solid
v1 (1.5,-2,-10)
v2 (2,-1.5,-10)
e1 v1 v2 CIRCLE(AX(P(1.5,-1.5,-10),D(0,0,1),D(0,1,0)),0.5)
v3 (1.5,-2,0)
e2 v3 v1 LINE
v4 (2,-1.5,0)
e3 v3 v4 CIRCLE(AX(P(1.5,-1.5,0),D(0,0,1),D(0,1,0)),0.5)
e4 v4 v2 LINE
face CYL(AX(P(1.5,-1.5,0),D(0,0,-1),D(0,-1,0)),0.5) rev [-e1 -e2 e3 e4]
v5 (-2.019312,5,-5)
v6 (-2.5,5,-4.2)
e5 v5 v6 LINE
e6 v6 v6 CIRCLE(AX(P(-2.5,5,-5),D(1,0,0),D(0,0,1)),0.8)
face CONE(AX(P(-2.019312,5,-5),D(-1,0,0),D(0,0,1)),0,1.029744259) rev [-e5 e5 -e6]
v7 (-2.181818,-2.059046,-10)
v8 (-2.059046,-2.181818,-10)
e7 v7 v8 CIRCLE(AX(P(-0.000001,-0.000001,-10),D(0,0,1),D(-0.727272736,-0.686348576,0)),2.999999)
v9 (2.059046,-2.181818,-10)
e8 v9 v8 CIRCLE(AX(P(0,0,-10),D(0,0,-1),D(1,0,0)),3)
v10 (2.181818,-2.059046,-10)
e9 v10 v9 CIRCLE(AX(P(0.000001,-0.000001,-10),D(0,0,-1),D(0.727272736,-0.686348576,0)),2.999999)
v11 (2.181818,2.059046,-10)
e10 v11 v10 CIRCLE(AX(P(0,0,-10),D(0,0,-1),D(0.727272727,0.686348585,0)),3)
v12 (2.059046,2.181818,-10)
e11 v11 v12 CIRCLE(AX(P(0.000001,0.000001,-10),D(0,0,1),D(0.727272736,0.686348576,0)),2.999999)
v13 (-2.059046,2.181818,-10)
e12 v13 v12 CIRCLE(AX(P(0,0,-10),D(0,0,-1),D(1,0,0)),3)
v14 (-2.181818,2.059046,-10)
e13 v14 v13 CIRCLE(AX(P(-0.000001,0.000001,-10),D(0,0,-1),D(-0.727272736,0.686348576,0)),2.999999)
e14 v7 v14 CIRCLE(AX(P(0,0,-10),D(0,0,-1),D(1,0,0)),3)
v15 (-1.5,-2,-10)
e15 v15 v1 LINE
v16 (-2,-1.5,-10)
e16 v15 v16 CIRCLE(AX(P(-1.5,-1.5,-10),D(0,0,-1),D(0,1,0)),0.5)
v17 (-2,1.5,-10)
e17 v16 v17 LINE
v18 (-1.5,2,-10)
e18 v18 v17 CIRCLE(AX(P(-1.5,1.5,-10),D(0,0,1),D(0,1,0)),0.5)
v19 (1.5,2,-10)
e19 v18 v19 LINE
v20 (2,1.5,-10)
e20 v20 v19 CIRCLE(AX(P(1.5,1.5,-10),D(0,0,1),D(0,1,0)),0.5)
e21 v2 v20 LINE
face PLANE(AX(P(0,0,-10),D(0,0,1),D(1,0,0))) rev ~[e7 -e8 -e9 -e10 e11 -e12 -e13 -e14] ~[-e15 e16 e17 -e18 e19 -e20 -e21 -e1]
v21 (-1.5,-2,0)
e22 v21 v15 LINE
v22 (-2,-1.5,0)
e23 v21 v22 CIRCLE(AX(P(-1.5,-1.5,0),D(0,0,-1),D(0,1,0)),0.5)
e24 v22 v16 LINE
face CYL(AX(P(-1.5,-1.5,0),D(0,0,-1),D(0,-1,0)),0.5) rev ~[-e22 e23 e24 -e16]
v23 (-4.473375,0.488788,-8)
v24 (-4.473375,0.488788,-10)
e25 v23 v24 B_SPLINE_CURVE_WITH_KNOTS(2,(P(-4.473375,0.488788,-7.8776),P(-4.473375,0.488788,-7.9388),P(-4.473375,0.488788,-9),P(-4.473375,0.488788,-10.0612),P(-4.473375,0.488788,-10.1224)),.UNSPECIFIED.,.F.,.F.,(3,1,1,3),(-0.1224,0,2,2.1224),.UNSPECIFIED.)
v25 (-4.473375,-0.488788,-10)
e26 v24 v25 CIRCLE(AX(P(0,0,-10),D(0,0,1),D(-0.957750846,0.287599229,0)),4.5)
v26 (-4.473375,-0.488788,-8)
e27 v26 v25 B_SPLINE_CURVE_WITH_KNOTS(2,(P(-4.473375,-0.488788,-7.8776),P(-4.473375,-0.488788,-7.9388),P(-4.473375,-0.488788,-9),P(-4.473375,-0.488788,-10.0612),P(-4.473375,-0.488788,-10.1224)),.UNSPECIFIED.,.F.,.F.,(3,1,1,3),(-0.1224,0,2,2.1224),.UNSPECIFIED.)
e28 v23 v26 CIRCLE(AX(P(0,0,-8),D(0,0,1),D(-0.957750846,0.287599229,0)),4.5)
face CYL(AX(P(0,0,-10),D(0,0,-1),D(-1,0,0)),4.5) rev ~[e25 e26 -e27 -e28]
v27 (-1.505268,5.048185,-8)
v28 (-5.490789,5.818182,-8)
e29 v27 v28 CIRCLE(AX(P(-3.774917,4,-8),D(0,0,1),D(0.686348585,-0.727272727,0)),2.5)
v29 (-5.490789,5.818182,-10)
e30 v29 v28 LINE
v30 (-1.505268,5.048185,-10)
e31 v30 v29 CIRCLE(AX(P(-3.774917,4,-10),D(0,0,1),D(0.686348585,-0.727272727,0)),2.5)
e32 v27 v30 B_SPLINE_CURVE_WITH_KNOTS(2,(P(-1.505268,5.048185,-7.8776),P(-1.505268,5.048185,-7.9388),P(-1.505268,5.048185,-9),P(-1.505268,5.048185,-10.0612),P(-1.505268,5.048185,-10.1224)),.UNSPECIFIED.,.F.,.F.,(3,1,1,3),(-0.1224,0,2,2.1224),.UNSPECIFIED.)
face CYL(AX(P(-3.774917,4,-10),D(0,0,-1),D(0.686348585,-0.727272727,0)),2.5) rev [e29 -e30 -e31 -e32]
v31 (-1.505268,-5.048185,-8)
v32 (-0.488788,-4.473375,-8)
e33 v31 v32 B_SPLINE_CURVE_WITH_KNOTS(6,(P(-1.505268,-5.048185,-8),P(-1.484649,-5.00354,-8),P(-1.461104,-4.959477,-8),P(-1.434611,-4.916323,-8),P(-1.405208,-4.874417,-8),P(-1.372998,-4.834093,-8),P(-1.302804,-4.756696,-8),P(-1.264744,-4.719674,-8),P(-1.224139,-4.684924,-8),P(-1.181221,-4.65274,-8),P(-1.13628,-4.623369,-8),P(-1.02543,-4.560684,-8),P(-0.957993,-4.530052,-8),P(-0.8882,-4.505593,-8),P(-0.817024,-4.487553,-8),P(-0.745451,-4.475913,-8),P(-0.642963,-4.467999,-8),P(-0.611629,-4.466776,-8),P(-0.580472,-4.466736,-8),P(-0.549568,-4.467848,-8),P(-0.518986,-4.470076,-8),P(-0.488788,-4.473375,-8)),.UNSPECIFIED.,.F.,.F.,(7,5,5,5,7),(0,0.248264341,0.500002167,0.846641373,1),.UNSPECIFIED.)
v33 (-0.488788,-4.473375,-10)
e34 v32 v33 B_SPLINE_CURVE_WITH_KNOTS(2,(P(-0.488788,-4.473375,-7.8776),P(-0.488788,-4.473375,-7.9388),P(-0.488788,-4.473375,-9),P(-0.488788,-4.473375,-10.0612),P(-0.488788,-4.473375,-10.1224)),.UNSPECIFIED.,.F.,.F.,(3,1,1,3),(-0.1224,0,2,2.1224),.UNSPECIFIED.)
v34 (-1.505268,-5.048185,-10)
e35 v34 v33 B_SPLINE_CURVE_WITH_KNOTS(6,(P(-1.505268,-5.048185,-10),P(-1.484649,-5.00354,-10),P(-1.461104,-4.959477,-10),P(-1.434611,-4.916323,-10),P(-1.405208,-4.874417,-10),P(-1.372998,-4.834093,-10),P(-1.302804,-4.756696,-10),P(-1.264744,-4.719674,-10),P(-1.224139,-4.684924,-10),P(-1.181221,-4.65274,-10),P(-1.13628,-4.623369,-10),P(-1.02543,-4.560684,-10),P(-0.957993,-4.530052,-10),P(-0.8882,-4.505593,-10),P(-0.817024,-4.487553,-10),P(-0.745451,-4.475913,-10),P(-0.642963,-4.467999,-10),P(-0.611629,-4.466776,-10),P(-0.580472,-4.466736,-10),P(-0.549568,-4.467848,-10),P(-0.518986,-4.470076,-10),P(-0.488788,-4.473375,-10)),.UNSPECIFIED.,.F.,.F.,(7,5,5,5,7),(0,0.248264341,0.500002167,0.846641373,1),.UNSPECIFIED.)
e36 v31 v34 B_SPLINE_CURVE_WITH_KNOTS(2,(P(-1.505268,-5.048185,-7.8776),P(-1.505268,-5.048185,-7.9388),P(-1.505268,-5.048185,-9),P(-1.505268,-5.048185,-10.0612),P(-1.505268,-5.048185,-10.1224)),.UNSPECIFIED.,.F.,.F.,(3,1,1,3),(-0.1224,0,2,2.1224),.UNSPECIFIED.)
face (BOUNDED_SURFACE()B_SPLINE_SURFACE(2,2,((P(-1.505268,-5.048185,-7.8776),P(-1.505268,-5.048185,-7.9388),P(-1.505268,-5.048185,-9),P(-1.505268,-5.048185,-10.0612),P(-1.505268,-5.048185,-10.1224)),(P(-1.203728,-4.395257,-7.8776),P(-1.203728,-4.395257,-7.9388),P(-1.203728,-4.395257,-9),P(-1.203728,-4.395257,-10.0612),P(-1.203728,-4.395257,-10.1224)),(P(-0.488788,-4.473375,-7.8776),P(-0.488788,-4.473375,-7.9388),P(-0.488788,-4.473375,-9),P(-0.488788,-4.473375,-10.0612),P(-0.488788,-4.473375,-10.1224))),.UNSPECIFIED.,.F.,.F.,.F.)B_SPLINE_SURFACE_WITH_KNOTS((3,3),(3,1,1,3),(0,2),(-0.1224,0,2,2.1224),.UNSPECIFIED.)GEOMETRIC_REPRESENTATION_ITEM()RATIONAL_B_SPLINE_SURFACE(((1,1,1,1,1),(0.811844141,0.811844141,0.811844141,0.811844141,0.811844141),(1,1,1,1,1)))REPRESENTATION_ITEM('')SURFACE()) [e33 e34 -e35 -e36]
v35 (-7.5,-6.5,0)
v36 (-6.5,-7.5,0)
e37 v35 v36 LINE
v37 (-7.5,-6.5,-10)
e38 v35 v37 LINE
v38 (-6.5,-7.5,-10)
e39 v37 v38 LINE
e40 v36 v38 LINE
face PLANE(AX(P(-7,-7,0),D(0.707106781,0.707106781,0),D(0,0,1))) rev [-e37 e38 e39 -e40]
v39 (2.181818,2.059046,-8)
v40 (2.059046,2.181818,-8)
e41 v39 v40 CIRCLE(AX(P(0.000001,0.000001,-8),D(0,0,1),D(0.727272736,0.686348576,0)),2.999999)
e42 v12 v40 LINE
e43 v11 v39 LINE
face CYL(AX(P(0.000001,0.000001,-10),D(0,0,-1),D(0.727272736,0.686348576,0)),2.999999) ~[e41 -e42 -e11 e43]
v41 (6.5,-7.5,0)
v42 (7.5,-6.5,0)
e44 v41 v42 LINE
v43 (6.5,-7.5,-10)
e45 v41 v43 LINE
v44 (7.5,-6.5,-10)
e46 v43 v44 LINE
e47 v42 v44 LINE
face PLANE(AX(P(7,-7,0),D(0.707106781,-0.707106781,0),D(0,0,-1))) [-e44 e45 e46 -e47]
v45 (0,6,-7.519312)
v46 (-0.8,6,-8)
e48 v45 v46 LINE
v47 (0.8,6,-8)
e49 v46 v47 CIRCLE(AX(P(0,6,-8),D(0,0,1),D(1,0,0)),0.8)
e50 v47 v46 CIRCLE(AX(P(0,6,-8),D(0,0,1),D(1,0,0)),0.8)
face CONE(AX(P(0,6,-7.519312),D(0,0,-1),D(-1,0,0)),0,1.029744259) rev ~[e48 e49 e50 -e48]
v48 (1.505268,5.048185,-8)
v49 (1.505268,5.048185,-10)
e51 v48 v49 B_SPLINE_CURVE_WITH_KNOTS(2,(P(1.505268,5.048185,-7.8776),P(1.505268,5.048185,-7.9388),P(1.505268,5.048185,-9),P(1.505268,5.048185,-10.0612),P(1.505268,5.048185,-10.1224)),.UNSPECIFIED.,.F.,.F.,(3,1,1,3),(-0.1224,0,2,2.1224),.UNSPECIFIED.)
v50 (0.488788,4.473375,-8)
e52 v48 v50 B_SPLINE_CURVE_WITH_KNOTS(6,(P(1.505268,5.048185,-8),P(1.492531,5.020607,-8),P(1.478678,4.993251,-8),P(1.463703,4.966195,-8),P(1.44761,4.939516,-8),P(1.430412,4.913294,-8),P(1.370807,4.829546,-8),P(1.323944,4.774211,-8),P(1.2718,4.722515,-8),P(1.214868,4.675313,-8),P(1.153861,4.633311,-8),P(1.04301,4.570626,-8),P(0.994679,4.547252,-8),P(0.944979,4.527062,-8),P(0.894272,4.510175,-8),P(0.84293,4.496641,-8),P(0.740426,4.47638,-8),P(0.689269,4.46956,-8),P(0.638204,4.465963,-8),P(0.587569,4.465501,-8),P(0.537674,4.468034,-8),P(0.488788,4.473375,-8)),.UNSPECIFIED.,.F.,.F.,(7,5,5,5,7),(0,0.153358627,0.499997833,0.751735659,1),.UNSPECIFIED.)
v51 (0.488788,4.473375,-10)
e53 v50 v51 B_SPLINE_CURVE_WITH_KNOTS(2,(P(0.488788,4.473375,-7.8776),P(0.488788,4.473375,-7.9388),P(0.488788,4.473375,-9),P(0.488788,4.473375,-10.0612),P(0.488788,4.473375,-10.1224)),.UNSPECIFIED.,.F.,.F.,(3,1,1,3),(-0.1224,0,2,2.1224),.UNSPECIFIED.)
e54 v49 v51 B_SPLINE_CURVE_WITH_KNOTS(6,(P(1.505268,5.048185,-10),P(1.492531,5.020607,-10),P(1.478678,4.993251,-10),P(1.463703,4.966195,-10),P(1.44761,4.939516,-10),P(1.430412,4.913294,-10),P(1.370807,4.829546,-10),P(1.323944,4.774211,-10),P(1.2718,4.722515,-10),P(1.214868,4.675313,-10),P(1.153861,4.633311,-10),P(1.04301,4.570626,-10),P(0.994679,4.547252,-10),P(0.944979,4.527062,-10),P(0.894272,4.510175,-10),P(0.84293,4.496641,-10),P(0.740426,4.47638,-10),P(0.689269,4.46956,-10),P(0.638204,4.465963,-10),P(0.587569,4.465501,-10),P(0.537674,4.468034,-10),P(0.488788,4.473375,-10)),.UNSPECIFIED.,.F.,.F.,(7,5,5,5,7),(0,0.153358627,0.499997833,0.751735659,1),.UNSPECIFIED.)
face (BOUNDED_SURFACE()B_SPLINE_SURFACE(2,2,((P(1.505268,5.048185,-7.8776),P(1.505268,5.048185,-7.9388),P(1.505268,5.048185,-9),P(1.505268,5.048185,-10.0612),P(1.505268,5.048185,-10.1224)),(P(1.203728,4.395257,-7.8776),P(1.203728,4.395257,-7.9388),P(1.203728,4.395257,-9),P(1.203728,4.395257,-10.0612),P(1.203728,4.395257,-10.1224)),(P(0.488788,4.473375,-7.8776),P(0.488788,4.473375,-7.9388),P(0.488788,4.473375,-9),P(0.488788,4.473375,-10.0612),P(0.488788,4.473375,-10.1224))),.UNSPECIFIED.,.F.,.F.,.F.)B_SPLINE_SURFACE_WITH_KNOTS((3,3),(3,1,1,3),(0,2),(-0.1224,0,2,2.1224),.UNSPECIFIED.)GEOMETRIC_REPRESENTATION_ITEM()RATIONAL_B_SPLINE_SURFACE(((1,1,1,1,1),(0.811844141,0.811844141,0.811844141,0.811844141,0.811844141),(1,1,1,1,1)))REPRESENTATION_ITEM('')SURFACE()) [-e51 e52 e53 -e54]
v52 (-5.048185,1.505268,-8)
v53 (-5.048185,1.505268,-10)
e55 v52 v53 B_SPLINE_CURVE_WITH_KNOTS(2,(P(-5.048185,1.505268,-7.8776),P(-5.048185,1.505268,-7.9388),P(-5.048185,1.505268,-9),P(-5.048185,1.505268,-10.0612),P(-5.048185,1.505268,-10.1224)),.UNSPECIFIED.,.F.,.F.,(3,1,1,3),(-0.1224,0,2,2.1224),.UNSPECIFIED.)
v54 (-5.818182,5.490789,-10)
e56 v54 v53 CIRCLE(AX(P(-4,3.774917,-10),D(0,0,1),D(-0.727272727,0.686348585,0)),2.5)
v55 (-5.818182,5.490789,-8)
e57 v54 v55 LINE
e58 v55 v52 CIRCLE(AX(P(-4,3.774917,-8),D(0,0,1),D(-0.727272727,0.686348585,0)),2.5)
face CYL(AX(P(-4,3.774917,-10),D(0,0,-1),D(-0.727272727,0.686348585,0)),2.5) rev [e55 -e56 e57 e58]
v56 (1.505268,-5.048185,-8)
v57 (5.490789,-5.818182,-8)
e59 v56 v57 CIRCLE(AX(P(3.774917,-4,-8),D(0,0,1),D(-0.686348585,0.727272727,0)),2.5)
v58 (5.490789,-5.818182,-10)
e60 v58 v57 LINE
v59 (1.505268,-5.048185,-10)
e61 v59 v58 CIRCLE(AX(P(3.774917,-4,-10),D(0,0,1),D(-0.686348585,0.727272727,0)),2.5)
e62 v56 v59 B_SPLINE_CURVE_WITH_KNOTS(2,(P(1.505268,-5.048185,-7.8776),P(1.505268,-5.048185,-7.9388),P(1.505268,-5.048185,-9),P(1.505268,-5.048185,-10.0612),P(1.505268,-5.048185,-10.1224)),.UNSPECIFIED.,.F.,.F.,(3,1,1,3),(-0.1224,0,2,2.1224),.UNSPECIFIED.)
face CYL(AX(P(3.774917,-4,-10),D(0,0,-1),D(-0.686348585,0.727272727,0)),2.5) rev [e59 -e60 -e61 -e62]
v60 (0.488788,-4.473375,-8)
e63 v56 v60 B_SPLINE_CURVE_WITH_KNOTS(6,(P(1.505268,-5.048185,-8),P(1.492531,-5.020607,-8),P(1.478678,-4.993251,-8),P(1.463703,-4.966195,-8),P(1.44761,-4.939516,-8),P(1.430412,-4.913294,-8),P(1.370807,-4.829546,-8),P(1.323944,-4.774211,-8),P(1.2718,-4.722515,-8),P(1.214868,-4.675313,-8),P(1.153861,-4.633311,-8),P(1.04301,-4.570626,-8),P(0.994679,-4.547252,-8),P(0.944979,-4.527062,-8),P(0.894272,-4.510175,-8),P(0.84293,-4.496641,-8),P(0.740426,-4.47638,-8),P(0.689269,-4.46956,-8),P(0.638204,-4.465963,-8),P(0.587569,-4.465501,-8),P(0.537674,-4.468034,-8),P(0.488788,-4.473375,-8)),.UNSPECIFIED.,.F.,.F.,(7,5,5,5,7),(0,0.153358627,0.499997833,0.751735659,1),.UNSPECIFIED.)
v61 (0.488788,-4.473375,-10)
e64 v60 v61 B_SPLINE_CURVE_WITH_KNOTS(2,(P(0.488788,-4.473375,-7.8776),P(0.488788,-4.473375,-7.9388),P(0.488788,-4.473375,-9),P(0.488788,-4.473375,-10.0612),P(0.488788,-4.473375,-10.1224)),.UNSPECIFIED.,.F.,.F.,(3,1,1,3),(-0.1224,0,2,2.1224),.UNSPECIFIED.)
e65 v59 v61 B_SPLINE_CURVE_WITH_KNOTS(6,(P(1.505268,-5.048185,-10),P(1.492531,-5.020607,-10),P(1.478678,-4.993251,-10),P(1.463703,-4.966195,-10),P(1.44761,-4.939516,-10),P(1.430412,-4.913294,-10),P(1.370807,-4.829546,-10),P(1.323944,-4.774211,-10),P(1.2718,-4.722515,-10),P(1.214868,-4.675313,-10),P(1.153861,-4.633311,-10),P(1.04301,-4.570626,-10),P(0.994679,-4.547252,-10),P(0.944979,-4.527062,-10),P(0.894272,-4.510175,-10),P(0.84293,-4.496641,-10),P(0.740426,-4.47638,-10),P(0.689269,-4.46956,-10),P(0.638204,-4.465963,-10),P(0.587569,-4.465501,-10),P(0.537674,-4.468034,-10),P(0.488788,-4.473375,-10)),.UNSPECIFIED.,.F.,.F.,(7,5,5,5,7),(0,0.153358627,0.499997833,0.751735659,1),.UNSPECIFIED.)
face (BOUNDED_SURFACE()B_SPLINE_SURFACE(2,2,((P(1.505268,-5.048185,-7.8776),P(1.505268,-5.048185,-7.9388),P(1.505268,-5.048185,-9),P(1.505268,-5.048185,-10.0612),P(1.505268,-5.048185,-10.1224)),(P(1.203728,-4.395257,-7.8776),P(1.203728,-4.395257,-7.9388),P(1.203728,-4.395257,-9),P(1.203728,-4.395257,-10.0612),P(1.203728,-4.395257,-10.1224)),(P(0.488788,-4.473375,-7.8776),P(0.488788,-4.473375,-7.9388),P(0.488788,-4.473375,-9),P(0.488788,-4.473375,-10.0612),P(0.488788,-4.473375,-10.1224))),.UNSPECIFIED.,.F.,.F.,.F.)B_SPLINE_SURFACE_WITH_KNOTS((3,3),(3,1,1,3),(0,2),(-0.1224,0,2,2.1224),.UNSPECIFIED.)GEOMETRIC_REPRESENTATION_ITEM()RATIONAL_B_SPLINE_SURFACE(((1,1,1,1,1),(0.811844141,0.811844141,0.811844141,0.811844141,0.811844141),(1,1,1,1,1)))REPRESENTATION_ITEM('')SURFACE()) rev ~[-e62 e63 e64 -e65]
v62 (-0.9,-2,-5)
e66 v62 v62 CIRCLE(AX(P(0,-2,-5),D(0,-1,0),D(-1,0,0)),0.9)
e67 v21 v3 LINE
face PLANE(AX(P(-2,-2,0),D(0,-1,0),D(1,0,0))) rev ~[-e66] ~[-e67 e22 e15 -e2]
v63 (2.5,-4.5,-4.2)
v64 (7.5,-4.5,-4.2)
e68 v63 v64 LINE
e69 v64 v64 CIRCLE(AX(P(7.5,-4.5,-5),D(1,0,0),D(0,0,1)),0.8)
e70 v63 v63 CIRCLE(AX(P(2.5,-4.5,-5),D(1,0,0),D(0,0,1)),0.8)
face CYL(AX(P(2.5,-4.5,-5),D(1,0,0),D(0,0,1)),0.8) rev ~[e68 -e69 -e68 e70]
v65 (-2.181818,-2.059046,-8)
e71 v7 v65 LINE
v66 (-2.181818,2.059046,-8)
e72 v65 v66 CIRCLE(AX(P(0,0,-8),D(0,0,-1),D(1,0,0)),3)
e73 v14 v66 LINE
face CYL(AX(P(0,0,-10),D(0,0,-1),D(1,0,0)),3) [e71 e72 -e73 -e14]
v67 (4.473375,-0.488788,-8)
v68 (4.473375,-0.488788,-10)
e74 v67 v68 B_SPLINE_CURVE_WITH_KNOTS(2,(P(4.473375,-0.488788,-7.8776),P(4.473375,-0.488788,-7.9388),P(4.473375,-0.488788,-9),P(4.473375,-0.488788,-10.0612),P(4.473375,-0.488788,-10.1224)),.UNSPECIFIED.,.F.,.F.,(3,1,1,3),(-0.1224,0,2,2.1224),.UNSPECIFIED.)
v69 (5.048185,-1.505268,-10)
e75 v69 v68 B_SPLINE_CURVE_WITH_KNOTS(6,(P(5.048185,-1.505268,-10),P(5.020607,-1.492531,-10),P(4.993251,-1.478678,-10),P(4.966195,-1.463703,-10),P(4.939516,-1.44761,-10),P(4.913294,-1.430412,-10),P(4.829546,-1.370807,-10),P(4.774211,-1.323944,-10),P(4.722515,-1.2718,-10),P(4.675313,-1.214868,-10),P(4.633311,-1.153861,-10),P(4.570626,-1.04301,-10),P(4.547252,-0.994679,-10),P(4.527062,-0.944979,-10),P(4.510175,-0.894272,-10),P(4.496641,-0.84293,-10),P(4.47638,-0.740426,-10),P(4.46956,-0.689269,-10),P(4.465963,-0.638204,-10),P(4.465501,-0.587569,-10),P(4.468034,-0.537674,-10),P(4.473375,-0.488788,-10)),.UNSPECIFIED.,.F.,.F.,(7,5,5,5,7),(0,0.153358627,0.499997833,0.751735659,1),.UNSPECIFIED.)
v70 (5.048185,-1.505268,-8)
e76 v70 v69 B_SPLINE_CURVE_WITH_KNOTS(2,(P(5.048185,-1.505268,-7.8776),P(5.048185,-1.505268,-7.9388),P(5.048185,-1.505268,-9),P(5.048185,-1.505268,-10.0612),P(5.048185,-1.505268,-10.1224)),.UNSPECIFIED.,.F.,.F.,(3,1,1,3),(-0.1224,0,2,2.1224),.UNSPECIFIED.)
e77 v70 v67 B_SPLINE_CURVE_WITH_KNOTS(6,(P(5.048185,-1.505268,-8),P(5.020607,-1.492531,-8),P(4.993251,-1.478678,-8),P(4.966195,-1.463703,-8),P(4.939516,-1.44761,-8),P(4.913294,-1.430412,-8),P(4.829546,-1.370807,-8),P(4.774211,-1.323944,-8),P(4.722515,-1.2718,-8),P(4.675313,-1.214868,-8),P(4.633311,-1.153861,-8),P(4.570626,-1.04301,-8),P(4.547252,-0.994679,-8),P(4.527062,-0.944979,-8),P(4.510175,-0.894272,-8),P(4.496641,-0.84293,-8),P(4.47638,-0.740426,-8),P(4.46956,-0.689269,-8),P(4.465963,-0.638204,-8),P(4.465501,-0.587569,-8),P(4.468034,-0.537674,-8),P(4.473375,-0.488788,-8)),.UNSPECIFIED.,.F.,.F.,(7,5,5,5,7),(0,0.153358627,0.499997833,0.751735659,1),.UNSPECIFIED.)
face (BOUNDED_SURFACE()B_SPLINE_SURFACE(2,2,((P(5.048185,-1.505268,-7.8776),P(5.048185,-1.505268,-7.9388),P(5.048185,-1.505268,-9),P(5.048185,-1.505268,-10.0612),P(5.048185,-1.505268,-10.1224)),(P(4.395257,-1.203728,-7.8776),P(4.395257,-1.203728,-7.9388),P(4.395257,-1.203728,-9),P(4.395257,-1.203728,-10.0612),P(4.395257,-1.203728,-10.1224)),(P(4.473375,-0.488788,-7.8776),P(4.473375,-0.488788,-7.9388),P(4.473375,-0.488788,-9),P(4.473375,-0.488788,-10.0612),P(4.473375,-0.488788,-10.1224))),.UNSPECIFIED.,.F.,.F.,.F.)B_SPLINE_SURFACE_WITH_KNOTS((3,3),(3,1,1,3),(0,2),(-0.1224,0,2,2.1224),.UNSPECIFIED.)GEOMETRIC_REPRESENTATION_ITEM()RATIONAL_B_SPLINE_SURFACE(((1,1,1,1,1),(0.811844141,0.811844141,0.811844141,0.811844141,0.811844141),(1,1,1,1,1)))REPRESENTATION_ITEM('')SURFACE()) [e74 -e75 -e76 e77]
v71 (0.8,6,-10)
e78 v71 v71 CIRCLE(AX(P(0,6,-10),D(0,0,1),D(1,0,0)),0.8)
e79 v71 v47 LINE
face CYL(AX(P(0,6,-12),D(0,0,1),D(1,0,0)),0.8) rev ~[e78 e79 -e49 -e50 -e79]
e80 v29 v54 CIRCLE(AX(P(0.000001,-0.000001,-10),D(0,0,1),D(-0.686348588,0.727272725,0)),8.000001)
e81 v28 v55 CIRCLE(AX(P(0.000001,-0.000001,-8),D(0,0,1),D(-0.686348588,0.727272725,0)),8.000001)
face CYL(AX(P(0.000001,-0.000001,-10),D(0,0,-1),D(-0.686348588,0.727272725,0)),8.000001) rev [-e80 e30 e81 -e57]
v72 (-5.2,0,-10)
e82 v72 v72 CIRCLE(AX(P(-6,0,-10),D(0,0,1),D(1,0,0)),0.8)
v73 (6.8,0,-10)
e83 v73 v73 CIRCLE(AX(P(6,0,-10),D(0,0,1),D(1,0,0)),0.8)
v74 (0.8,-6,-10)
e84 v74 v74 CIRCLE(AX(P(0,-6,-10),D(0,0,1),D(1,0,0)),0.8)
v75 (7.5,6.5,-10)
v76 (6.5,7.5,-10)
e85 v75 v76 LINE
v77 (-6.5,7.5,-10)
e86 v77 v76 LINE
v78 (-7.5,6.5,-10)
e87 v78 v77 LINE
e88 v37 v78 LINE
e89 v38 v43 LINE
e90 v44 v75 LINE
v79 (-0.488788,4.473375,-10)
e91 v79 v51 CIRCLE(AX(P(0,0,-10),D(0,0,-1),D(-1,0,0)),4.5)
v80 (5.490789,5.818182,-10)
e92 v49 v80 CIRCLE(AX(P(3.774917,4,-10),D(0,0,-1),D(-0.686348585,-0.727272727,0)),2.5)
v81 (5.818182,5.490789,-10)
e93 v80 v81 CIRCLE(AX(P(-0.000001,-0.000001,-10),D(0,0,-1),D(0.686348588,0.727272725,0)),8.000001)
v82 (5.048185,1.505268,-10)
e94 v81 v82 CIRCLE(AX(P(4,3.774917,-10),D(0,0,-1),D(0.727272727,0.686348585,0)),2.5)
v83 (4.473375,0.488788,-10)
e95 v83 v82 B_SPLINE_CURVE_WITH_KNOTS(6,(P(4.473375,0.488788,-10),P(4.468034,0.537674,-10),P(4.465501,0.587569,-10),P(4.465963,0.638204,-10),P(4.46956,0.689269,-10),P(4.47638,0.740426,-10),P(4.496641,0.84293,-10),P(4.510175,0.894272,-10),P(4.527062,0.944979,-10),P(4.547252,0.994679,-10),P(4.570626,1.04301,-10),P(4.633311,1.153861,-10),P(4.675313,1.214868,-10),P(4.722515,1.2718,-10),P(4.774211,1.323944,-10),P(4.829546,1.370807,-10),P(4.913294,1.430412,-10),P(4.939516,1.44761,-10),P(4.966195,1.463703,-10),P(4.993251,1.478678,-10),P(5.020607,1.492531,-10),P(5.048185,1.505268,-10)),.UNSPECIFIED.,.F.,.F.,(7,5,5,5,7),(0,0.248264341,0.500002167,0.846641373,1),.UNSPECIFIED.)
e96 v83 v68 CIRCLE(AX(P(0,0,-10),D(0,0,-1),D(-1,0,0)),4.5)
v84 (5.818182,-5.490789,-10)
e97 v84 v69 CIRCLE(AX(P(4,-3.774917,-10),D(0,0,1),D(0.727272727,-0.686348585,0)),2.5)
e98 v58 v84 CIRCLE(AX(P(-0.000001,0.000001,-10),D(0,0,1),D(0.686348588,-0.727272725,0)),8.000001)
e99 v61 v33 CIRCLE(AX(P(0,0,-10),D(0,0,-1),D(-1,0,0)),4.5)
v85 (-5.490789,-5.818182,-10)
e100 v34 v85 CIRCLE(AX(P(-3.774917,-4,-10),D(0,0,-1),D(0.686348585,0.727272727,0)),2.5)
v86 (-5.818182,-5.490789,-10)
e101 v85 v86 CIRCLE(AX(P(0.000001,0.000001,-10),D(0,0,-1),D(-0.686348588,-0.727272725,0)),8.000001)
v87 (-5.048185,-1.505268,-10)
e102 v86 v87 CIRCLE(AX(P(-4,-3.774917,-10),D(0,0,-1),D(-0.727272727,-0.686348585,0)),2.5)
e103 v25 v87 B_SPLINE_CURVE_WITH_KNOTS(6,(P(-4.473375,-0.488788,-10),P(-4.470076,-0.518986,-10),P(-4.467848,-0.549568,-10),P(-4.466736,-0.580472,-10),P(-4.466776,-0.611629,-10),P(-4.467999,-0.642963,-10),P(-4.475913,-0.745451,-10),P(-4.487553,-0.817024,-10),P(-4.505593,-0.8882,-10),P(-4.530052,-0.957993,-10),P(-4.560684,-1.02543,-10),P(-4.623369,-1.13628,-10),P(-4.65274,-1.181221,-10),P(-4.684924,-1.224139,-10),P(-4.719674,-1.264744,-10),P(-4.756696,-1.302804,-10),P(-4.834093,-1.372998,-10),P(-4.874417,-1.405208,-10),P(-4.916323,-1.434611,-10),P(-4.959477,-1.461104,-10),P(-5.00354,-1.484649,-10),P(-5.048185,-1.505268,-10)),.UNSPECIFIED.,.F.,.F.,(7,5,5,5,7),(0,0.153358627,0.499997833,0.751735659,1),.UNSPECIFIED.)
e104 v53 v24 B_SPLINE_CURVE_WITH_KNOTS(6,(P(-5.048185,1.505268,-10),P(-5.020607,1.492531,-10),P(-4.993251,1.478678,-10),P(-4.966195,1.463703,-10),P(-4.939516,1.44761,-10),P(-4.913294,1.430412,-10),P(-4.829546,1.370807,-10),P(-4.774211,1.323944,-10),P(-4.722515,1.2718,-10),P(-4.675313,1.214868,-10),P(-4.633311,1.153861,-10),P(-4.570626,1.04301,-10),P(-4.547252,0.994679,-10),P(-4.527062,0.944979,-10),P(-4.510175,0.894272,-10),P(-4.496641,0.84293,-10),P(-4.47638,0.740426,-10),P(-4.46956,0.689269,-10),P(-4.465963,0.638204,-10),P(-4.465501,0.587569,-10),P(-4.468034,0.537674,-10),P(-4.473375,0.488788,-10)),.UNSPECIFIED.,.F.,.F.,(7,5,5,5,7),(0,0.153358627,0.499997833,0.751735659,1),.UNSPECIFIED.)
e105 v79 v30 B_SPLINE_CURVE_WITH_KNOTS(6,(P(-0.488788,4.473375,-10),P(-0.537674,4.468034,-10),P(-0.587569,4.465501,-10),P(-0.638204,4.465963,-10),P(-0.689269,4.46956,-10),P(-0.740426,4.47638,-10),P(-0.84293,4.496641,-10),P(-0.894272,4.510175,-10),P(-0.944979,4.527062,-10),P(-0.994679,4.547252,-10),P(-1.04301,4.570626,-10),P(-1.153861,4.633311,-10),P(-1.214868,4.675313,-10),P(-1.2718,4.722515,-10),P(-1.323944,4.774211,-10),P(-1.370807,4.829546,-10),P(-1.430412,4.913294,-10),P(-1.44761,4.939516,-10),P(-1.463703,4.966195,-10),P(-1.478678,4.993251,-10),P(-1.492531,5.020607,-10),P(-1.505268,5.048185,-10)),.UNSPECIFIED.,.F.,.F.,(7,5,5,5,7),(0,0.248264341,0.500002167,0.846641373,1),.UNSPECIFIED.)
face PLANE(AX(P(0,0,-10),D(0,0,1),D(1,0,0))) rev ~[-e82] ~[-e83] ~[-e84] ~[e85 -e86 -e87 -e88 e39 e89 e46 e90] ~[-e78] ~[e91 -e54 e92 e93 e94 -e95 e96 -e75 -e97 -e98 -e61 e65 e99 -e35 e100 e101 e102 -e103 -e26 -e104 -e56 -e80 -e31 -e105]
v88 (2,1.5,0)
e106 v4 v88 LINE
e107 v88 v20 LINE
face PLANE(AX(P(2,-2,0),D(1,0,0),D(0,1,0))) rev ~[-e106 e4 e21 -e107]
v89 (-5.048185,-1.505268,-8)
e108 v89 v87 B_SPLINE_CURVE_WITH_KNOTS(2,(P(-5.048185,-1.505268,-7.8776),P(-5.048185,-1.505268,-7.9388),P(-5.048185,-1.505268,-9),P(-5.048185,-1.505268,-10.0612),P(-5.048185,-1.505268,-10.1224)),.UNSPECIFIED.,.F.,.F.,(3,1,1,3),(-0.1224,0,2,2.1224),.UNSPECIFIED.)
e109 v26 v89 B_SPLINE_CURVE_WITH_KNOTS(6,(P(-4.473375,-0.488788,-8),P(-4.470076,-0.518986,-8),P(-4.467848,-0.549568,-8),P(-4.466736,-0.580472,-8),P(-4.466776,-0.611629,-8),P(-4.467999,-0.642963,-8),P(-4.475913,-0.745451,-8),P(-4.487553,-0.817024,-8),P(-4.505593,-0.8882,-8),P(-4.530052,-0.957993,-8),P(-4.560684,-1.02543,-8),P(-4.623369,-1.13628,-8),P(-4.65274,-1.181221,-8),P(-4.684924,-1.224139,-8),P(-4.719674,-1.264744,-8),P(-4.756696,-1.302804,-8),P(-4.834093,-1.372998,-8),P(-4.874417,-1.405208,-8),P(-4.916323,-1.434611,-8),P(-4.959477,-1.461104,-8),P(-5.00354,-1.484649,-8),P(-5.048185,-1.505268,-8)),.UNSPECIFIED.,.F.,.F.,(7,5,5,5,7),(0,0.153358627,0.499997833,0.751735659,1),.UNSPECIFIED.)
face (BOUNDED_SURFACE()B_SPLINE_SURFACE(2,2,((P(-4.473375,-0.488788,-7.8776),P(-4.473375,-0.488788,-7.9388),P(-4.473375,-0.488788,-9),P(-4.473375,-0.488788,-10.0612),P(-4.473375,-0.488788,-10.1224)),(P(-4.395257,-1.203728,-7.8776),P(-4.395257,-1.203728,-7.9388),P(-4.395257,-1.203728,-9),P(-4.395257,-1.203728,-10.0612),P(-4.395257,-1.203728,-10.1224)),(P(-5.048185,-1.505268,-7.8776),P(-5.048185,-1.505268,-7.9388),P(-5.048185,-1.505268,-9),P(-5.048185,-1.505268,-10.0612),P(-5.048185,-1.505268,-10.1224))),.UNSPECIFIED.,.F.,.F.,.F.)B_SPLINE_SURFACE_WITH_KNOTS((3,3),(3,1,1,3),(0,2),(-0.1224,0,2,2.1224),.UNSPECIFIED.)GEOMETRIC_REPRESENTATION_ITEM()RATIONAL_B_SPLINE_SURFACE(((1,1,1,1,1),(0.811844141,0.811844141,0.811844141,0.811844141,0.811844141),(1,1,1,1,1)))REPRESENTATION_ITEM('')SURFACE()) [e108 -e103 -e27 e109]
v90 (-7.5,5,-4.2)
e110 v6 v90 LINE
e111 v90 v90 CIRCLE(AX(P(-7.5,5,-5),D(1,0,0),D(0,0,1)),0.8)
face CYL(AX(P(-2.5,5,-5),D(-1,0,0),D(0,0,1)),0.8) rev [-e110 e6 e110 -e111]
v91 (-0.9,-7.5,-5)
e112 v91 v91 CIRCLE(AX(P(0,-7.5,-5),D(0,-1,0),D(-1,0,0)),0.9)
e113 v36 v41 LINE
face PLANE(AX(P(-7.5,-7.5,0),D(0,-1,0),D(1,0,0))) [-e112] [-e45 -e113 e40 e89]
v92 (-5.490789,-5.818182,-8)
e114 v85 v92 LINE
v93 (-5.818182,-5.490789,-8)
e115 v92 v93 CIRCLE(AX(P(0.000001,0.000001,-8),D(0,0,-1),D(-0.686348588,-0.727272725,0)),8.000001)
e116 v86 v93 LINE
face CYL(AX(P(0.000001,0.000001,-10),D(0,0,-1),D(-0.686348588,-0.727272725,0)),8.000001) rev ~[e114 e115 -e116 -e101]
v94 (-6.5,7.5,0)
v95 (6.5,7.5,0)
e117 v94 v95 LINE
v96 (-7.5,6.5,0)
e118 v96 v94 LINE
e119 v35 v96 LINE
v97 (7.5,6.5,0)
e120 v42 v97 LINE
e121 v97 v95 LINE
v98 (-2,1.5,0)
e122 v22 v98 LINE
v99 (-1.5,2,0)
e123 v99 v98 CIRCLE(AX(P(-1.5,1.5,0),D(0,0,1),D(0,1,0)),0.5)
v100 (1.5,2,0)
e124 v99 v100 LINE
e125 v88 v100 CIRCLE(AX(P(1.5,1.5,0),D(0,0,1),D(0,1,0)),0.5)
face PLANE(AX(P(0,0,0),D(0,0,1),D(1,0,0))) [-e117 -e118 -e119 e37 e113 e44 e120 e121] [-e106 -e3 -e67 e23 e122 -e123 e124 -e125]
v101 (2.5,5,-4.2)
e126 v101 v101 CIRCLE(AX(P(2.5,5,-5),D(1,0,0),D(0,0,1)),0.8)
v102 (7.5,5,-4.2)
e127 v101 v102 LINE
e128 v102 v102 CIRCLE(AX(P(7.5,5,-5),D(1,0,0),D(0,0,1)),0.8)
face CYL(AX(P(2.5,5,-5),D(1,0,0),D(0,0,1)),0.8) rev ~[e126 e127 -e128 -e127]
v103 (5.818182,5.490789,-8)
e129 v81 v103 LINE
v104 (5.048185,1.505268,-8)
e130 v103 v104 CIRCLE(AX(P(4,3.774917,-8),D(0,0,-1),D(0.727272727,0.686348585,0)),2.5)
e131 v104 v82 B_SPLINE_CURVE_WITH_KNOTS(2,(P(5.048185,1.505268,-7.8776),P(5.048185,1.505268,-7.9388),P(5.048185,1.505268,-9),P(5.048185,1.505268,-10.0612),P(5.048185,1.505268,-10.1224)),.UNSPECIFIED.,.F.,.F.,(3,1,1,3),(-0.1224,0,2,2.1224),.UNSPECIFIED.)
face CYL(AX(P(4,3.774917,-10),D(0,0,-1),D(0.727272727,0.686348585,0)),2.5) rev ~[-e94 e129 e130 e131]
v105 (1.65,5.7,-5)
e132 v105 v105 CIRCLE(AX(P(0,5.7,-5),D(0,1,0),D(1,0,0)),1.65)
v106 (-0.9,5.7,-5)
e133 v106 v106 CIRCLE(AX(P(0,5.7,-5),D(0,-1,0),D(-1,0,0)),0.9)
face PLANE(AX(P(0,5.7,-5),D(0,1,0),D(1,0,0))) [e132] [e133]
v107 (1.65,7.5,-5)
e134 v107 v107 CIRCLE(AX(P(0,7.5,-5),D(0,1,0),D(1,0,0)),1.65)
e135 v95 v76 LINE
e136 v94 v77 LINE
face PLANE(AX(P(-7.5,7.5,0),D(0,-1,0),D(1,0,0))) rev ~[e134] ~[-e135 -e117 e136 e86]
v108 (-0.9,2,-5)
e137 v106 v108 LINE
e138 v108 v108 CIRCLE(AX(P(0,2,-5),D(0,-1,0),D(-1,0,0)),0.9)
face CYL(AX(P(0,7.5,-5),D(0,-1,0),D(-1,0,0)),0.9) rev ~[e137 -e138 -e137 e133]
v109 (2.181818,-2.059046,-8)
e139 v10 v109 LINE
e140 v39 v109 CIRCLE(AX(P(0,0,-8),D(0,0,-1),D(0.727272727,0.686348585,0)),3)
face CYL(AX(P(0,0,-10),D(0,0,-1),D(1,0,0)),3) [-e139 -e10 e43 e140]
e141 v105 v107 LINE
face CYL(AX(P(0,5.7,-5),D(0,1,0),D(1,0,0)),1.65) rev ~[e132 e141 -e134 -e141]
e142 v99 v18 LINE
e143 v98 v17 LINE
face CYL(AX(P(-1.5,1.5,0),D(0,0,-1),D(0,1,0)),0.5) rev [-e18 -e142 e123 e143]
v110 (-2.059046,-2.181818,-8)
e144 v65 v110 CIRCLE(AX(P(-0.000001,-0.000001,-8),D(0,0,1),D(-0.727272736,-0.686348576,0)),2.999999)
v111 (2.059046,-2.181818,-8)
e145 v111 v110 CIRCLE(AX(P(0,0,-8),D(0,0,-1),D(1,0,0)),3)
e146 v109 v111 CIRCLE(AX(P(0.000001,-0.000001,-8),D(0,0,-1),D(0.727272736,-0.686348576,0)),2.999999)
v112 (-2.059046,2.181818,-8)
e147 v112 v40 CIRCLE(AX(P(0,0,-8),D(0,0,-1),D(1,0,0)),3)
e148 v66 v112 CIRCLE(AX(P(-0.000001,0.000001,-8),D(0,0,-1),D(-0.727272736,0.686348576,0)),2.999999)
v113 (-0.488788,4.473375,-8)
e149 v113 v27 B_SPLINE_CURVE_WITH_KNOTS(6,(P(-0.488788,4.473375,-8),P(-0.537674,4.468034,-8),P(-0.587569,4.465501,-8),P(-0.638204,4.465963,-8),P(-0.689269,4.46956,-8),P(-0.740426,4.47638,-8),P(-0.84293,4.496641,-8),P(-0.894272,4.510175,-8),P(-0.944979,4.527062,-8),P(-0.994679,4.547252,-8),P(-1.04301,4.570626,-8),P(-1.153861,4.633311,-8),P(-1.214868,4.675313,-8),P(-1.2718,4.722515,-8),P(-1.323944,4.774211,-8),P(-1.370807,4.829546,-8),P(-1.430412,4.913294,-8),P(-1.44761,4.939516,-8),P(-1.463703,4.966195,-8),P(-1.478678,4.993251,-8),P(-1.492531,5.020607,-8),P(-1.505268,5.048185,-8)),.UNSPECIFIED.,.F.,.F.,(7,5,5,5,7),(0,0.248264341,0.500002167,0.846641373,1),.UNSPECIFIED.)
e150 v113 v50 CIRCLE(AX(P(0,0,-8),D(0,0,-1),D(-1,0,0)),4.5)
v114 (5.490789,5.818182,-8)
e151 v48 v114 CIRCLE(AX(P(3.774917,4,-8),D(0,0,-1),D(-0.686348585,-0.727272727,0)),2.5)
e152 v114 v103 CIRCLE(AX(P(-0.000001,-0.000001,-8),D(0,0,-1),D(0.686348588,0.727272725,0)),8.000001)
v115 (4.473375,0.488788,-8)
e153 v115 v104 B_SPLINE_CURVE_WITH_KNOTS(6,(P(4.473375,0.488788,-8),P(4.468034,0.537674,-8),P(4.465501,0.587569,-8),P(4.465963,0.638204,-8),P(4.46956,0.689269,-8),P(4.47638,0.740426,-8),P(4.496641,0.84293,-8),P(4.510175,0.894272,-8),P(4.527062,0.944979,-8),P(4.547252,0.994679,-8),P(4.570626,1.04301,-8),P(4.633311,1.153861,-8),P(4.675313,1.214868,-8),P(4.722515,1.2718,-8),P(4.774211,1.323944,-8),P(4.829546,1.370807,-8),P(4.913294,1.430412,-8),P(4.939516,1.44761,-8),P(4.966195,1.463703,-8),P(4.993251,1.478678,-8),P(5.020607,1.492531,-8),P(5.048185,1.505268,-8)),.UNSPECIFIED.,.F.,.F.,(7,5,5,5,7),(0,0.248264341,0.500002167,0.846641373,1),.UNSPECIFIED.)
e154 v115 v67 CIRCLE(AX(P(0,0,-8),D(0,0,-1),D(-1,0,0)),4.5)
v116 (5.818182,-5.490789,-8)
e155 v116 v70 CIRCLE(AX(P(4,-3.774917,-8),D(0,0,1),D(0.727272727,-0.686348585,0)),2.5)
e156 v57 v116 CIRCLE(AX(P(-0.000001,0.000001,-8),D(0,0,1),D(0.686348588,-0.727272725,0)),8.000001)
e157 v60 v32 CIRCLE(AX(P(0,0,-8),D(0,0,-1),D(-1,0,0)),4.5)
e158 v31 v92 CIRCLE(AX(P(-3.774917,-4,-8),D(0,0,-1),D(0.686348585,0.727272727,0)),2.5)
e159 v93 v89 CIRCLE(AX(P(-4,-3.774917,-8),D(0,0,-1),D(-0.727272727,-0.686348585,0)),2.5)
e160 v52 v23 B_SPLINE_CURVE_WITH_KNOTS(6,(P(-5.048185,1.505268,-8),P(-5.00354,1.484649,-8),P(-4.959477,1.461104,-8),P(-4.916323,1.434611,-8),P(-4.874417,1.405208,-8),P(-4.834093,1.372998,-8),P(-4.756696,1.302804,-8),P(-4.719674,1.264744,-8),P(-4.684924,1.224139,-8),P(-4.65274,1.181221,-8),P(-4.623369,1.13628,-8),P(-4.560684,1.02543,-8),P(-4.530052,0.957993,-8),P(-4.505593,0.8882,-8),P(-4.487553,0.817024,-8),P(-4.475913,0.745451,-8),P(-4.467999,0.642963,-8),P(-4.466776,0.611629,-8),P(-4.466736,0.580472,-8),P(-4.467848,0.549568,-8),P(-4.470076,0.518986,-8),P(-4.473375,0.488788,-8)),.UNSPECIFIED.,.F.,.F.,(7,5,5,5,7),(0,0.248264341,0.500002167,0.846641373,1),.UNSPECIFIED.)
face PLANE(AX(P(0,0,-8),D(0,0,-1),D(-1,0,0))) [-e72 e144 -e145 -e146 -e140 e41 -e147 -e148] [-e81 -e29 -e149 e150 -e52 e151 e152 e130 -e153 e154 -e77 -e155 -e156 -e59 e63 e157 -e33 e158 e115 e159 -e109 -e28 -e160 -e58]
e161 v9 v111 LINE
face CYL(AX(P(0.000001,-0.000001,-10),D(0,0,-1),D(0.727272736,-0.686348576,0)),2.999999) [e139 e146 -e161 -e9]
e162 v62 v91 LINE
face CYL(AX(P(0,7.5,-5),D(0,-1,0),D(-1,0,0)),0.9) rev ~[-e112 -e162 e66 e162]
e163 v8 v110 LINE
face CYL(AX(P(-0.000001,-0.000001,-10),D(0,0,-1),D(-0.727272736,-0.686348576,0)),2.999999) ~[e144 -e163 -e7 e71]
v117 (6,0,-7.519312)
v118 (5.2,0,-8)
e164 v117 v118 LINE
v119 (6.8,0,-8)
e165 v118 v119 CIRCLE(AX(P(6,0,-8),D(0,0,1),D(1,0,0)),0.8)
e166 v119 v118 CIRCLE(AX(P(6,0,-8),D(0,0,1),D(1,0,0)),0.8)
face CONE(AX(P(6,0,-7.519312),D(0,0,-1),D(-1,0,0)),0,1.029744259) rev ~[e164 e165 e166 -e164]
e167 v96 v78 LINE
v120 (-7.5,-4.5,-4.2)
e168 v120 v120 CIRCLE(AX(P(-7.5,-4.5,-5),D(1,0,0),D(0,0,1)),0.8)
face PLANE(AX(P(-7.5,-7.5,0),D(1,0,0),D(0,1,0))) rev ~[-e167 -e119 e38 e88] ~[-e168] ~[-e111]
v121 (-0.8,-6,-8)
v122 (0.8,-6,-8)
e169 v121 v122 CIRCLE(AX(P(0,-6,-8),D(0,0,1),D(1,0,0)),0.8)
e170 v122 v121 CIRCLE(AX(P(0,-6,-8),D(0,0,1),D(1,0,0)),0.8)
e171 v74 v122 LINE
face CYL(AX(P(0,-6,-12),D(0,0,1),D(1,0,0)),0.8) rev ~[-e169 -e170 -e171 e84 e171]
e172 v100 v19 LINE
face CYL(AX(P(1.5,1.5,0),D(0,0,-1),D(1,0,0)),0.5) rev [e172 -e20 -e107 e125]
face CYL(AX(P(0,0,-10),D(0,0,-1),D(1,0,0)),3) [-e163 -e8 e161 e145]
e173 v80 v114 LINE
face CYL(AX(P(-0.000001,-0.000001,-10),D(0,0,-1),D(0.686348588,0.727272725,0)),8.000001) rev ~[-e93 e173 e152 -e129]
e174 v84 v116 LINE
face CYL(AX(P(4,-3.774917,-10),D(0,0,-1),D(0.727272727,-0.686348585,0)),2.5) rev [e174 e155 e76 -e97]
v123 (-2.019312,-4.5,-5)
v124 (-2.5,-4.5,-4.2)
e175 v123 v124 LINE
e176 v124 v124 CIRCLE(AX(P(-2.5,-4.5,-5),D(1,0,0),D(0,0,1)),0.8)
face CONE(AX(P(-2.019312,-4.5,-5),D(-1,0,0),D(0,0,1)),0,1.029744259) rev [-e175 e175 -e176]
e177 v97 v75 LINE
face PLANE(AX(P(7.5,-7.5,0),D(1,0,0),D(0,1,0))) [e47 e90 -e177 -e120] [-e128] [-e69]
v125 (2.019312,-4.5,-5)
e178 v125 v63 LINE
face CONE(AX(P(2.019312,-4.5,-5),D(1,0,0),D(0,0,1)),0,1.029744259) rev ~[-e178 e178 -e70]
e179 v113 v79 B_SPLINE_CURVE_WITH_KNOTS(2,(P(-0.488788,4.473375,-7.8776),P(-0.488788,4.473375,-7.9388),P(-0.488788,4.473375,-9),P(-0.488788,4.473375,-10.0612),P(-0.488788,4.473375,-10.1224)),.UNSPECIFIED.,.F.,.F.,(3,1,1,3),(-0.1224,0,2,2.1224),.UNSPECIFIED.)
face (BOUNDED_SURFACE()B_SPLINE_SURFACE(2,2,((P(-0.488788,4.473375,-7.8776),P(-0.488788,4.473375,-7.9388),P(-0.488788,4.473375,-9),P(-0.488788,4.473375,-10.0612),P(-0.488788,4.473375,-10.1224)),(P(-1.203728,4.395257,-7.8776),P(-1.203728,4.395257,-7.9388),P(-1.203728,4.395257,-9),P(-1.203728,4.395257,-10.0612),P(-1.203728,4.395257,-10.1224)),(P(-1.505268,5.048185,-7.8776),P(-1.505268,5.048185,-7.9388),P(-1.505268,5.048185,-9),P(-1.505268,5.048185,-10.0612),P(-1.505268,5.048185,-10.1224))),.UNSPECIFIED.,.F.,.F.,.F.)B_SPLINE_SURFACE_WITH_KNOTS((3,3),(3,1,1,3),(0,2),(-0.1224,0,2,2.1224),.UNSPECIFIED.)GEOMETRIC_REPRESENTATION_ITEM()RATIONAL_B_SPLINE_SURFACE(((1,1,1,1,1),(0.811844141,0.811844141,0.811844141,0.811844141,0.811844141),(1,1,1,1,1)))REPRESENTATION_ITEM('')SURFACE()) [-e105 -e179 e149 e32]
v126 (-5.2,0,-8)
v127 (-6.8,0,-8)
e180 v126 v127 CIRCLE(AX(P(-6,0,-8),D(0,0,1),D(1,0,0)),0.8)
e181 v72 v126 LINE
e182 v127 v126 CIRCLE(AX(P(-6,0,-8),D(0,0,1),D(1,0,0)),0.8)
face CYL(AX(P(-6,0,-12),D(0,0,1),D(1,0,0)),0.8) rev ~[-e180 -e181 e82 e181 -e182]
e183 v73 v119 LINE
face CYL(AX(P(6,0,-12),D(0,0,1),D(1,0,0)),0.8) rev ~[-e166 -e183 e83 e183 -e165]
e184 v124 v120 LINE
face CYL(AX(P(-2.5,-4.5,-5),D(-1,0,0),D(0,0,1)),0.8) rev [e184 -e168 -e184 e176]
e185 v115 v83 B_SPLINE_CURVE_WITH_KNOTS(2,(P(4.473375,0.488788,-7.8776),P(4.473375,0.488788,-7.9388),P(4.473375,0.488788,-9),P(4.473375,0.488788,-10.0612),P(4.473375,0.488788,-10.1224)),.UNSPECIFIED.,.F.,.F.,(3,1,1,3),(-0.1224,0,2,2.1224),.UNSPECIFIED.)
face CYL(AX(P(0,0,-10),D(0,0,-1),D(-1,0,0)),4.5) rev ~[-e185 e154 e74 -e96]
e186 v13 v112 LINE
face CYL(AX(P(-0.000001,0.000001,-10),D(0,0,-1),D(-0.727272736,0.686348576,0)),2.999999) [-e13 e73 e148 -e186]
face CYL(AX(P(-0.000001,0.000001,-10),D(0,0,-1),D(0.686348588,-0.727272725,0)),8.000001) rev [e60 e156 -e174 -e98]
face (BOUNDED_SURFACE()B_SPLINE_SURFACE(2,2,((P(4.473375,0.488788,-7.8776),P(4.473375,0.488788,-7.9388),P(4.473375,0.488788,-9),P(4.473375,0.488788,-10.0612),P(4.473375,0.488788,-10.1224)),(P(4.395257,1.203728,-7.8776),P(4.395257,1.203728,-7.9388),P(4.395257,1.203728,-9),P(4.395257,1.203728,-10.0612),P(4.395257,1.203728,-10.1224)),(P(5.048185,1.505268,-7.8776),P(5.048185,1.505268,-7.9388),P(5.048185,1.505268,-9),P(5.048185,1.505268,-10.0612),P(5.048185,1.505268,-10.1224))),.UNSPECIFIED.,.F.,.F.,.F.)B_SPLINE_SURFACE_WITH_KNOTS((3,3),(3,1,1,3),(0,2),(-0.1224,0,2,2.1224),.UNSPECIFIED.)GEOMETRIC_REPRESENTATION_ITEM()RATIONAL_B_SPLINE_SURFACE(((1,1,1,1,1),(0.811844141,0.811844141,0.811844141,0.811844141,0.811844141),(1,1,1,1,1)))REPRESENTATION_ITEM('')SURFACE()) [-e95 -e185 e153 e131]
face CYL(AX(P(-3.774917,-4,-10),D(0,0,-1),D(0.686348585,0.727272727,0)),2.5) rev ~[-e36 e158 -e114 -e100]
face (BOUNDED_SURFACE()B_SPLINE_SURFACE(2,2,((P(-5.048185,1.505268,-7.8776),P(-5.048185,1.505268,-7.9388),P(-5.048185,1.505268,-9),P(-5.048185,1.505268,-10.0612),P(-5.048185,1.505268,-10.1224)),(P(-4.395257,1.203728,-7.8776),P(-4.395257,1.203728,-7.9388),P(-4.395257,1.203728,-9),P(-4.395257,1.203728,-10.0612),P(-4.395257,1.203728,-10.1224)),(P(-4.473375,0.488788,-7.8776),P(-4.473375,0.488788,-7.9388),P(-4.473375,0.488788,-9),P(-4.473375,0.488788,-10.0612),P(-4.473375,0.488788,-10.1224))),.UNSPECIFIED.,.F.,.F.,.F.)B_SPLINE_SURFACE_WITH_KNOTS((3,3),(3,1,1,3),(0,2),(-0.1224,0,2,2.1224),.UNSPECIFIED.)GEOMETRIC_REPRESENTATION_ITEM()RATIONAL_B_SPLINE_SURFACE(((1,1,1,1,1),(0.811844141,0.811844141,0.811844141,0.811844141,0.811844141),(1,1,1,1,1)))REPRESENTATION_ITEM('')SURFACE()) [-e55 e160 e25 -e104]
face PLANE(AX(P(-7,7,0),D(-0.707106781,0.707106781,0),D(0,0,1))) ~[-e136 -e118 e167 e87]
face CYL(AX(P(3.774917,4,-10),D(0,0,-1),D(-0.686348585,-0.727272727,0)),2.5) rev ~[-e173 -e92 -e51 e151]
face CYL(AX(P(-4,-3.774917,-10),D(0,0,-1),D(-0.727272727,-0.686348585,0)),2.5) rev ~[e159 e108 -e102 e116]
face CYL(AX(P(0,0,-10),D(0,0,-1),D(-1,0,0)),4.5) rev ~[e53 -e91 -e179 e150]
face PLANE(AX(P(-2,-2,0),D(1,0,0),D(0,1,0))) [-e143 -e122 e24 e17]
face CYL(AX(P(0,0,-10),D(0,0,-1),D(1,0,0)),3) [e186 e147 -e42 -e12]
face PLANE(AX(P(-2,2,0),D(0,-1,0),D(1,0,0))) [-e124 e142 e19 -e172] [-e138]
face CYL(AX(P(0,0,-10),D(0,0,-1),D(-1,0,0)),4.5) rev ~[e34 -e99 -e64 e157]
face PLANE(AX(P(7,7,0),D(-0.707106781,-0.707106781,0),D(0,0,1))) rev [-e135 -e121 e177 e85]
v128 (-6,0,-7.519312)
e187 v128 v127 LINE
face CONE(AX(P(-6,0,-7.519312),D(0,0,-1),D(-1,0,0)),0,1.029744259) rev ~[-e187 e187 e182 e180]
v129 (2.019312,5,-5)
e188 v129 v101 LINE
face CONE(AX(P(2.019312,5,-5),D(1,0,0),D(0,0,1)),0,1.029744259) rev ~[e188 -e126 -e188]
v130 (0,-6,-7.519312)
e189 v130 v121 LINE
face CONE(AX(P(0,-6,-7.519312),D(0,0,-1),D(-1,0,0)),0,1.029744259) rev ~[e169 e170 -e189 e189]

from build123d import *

# Parameters (mm, degrees)
SKETCH1_W                                            = 15
SKETCH1_H                                            = 15
SKETCH1_W_2                                          = 4
SKETCH1_H_2                                          = 4
BOSS_EXTRUDE1_DEPTH                                  = 10
FILLET1_R                                            = 0.5
CBORE_FOR_M1_6_HEXAGON_SOCKET_HEAD_CAP_S_D           = 1.8
CBORE_FOR_M1_6_HEXAGON_SOCKET_HEAD_CAP_S_CBORE_D     = 3.3
CBORE_FOR_M1_6_HEXAGON_SOCKET_HEAD_CAP_S_CBORE_DEPTH = 1.8
M2_TAPPED_HOLE1_AT_2_COUNT                           = 2
M2_TAPPED_HOLE1_AT_2_PITCH                           = 9.5
CHAMFER1_SIZE                                        = 1
CUT_EXTRUDE1_DEPTH                                   = 2
M2_TAPPED_HOLE2_D                                    = 1.6
M2_TAPPED_HOLE2_DEPTH                                = 2
M2_TAPPED_HOLE2_TIP                                  = 0.480688495
SKETCH12_R                                           = 4.5
SKETCH12_R_2                                         = 3
CUT_EXTRUDE2_DEPTH                                   = 2
FILLET2_R                                            = 1
CHAMFER2_SIZE                                        = 1


with BuildPart() as part:
    # Sketch1 → Boss-Extrude1 (new body)
    with BuildSketch(Plane.XY):
        Rectangle(SKETCH1_W, SKETCH1_H)
        Rectangle(SKETCH1_W_2, SKETCH1_H_2, mode=Mode.SUBTRACT)
    extrude(amount=-BOSS_EXTRUDE1_DEPTH)

    # Fillet1
    fillet1_edges = [part.edges().sort_by_distance(p)[0] for p in [
        (2, 2, -5),
        (2, -2, -5),
        (-2, -2, -5),
        (-2, 2, -5),
    ]]
    fillet(fillet1_edges, radius=FILLET1_R)

    # CBORE for M1.6 Hexagon socket head cap screws1 (through all)
    with Locations(Plane(origin=(0, 7.5, 0), x_dir=(1, 0, 0), z_dir=(0, 1, 0))):
        with Locations((0, 5)):
            CounterBoreHole(CBORE_FOR_M1_6_HEXAGON_SOCKET_HEAD_CAP_S_D / 2, CBORE_FOR_M1_6_HEXAGON_SOCKET_HEAD_CAP_S_CBORE_D / 2, CBORE_FOR_M1_6_HEXAGON_SOCKET_HEAD_CAP_S_CBORE_DEPTH)

    # Sketch6 → M2 Tapped Hole1 (revolve, cut)
    with BuildSketch(Plane(origin=(-7.5, 5, -5), x_dir=(0, 0, 1), z_dir=(0, 1, 0))):
        Polygon((0, 0), (0, 5.480688495), (0.8, 5), (0.8, 0), align=None)
    m2_tapped_hole1 = revolve(axis=Axis((-13.85, 5, -5), (1, 0, 0)), mode=Mode.SUBTRACT)

    # M2 Tapped Hole1 at 2: M2 Tapped Hole1 ×2
    with Locations(*[(0, -i * M2_TAPPED_HOLE1_AT_2_PITCH, 0) for i in range(1, M2_TAPPED_HOLE1_AT_2_COUNT)]):
        add(m2_tapped_hole1, mode=Mode.SUBTRACT)

    # Mirror1: M2 Tapped Hole1 across plane
    add(m2_tapped_hole1.mirror(Plane(origin=(0, 0, 0), x_dir=(0, 0, 1), z_dir=(1, 0, 0))), mode=Mode.SUBTRACT)

    # Mirror1 copy 1 sketch → Mirror1 copy 1 (revolve, cut)
    with BuildSketch(Plane(origin=(7.5, -4.5, -5), x_dir=(0, 0, 1), z_dir=(0, 1, 0))):
        Polygon((0, 0), (0, -5.480688495), (0.8, -5), (0.8, 0), align=None)
    revolve(axis=Axis((13.85, -4.5, -5), (1, 0, 0)), mode=Mode.SUBTRACT)

    # Chamfer1
    chamfer1_edges = [part.edges().sort_by_distance(p)[0] for p in [
        (7.5, -7.5, -5),
        (-7.5, -7.5, -5),
    ]]
    chamfer(chamfer1_edges, length=CHAMFER1_SIZE)

    # Sketch8 → Cut-Extrude1 (cut)
    with BuildSketch(Plane(origin=(0, 0, -10), x_dir=(-1, 0, 0), z_dir=(0, 0, -1))):
        with BuildLine():
            ThreePointArc((-5.49078868, 5.818181818), (-5.656854249, 5.656854249), (-5.818181818, 5.49078868))
            ThreePointArc((-5.818181818, 5.49078868), (-5.715871463, 1.956735399), (-2.181818182, 2.059045755))
            ThreePointArc((-2.181818182, 2.059045755), (-2.121320344, 2.121320344), (-2.059045755, 2.181818182))
            ThreePointArc((-2.059045755, 2.181818182), (-1.956735399, 5.715871463), (-5.49078868, 5.818181818))
        make_face()
        with BuildLine():
            ThreePointArc((-5.49078868, -5.818181818), (-5.656854249, -5.656854249), (-5.818181818, -5.49078868))
            ThreePointArc((-5.818181818, -5.49078868), (-5.715871463, -1.956735399), (-2.181818182, -2.059045755))
            ThreePointArc((-2.181818182, -2.059045755), (-2.121320344, -2.121320344), (-2.059045755, -2.181818182))
            ThreePointArc((-2.059045755, -2.181818182), (-1.956735399, -5.715871463), (-5.49078868, -5.818181818))
        make_face()
        with BuildLine():
            ThreePointArc((5.49078868, 5.818181818), (5.656854249, 5.656854249), (5.818181818, 5.49078868))
            ThreePointArc((5.818181818, 5.49078868), (5.715871463, 1.956735399), (2.181818182, 2.059045755))
            ThreePointArc((2.181818182, 2.059045755), (2.121320344, 2.121320344), (2.059045755, 2.181818182))
            ThreePointArc((2.059045755, 2.181818182), (1.956735399, 5.715871463), (5.49078868, 5.818181818))
        make_face()
        with BuildLine():
            ThreePointArc((5.49078868, -5.818181818), (5.656854249, -5.656854249), (5.818181818, -5.49078868))
            ThreePointArc((5.818181818, -5.49078868), (5.715871463, -1.956735399), (2.181818182, -2.059045755))
            ThreePointArc((2.181818182, -2.059045755), (2.121320344, -2.121320344), (2.059045755, -2.181818182))
            ThreePointArc((2.059045755, -2.181818182), (1.956735399, -5.715871463), (5.49078868, -5.818181818))
        make_face()
    extrude(amount=-CUT_EXTRUDE1_DEPTH, mode=Mode.SUBTRACT)

    # M2 Tapped Hole2
    with Locations(Plane(origin=(0, 0, -10), x_dir=(-1, 0, 0), z_dir=(0, 0, -1))):
        with Locations((-6, 0), (0, 6), (6, 0), (0, -6)):
            Hole(M2_TAPPED_HOLE2_D / 2, depth=M2_TAPPED_HOLE2_DEPTH)
            with Locations((0, 0, -(M2_TAPPED_HOLE2_DEPTH + M2_TAPPED_HOLE2_TIP / 2))):  # 118° drill point
                Cone(0, M2_TAPPED_HOLE2_D / 2, M2_TAPPED_HOLE2_TIP, mode=Mode.SUBTRACT)

    # Sketch12 → Cut-Extrude2 (cut)
    with BuildSketch(Plane(origin=(0, 0, -10), x_dir=(-1, 0, 0), z_dir=(0, 0, -1))):
        Circle(SKETCH12_R)
        with Locations(Location((0, 0, 0), (0, 0, 180))):
            Circle(SKETCH12_R_2, mode=Mode.SUBTRACT)
    extrude(amount=-CUT_EXTRUDE2_DEPTH, mode=Mode.SUBTRACT)

    # Fillet2
    fillet2_edges = [part.edges().sort_by_distance(p)[0] for p in [
        (1.294196531, 4.309878808, -9),
        (-1.294196531, 4.309878808, -9),
        (4.309878808, 1.294196531, -9),
        (4.309878808, -1.294196531, -9),
        (-1.294196531, -4.309878808, -9),
        (1.294196531, -4.309878808, -9),
        (-4.309878808, -1.294196531, -9),
        (-4.309878808, 1.294196531, -9),
    ]]
    fillet(fillet2_edges, radius=FILLET2_R)

    # Chamfer2
    chamfer2_edges = [part.edges().sort_by_distance(p)[0] for p in [
        (-7.5, 7.5, -5),
        (7.5, 7.5, -5),
    ]]
    chamfer(chamfer2_edges, length=CHAMFER2_SIZE)


solid = part.part
